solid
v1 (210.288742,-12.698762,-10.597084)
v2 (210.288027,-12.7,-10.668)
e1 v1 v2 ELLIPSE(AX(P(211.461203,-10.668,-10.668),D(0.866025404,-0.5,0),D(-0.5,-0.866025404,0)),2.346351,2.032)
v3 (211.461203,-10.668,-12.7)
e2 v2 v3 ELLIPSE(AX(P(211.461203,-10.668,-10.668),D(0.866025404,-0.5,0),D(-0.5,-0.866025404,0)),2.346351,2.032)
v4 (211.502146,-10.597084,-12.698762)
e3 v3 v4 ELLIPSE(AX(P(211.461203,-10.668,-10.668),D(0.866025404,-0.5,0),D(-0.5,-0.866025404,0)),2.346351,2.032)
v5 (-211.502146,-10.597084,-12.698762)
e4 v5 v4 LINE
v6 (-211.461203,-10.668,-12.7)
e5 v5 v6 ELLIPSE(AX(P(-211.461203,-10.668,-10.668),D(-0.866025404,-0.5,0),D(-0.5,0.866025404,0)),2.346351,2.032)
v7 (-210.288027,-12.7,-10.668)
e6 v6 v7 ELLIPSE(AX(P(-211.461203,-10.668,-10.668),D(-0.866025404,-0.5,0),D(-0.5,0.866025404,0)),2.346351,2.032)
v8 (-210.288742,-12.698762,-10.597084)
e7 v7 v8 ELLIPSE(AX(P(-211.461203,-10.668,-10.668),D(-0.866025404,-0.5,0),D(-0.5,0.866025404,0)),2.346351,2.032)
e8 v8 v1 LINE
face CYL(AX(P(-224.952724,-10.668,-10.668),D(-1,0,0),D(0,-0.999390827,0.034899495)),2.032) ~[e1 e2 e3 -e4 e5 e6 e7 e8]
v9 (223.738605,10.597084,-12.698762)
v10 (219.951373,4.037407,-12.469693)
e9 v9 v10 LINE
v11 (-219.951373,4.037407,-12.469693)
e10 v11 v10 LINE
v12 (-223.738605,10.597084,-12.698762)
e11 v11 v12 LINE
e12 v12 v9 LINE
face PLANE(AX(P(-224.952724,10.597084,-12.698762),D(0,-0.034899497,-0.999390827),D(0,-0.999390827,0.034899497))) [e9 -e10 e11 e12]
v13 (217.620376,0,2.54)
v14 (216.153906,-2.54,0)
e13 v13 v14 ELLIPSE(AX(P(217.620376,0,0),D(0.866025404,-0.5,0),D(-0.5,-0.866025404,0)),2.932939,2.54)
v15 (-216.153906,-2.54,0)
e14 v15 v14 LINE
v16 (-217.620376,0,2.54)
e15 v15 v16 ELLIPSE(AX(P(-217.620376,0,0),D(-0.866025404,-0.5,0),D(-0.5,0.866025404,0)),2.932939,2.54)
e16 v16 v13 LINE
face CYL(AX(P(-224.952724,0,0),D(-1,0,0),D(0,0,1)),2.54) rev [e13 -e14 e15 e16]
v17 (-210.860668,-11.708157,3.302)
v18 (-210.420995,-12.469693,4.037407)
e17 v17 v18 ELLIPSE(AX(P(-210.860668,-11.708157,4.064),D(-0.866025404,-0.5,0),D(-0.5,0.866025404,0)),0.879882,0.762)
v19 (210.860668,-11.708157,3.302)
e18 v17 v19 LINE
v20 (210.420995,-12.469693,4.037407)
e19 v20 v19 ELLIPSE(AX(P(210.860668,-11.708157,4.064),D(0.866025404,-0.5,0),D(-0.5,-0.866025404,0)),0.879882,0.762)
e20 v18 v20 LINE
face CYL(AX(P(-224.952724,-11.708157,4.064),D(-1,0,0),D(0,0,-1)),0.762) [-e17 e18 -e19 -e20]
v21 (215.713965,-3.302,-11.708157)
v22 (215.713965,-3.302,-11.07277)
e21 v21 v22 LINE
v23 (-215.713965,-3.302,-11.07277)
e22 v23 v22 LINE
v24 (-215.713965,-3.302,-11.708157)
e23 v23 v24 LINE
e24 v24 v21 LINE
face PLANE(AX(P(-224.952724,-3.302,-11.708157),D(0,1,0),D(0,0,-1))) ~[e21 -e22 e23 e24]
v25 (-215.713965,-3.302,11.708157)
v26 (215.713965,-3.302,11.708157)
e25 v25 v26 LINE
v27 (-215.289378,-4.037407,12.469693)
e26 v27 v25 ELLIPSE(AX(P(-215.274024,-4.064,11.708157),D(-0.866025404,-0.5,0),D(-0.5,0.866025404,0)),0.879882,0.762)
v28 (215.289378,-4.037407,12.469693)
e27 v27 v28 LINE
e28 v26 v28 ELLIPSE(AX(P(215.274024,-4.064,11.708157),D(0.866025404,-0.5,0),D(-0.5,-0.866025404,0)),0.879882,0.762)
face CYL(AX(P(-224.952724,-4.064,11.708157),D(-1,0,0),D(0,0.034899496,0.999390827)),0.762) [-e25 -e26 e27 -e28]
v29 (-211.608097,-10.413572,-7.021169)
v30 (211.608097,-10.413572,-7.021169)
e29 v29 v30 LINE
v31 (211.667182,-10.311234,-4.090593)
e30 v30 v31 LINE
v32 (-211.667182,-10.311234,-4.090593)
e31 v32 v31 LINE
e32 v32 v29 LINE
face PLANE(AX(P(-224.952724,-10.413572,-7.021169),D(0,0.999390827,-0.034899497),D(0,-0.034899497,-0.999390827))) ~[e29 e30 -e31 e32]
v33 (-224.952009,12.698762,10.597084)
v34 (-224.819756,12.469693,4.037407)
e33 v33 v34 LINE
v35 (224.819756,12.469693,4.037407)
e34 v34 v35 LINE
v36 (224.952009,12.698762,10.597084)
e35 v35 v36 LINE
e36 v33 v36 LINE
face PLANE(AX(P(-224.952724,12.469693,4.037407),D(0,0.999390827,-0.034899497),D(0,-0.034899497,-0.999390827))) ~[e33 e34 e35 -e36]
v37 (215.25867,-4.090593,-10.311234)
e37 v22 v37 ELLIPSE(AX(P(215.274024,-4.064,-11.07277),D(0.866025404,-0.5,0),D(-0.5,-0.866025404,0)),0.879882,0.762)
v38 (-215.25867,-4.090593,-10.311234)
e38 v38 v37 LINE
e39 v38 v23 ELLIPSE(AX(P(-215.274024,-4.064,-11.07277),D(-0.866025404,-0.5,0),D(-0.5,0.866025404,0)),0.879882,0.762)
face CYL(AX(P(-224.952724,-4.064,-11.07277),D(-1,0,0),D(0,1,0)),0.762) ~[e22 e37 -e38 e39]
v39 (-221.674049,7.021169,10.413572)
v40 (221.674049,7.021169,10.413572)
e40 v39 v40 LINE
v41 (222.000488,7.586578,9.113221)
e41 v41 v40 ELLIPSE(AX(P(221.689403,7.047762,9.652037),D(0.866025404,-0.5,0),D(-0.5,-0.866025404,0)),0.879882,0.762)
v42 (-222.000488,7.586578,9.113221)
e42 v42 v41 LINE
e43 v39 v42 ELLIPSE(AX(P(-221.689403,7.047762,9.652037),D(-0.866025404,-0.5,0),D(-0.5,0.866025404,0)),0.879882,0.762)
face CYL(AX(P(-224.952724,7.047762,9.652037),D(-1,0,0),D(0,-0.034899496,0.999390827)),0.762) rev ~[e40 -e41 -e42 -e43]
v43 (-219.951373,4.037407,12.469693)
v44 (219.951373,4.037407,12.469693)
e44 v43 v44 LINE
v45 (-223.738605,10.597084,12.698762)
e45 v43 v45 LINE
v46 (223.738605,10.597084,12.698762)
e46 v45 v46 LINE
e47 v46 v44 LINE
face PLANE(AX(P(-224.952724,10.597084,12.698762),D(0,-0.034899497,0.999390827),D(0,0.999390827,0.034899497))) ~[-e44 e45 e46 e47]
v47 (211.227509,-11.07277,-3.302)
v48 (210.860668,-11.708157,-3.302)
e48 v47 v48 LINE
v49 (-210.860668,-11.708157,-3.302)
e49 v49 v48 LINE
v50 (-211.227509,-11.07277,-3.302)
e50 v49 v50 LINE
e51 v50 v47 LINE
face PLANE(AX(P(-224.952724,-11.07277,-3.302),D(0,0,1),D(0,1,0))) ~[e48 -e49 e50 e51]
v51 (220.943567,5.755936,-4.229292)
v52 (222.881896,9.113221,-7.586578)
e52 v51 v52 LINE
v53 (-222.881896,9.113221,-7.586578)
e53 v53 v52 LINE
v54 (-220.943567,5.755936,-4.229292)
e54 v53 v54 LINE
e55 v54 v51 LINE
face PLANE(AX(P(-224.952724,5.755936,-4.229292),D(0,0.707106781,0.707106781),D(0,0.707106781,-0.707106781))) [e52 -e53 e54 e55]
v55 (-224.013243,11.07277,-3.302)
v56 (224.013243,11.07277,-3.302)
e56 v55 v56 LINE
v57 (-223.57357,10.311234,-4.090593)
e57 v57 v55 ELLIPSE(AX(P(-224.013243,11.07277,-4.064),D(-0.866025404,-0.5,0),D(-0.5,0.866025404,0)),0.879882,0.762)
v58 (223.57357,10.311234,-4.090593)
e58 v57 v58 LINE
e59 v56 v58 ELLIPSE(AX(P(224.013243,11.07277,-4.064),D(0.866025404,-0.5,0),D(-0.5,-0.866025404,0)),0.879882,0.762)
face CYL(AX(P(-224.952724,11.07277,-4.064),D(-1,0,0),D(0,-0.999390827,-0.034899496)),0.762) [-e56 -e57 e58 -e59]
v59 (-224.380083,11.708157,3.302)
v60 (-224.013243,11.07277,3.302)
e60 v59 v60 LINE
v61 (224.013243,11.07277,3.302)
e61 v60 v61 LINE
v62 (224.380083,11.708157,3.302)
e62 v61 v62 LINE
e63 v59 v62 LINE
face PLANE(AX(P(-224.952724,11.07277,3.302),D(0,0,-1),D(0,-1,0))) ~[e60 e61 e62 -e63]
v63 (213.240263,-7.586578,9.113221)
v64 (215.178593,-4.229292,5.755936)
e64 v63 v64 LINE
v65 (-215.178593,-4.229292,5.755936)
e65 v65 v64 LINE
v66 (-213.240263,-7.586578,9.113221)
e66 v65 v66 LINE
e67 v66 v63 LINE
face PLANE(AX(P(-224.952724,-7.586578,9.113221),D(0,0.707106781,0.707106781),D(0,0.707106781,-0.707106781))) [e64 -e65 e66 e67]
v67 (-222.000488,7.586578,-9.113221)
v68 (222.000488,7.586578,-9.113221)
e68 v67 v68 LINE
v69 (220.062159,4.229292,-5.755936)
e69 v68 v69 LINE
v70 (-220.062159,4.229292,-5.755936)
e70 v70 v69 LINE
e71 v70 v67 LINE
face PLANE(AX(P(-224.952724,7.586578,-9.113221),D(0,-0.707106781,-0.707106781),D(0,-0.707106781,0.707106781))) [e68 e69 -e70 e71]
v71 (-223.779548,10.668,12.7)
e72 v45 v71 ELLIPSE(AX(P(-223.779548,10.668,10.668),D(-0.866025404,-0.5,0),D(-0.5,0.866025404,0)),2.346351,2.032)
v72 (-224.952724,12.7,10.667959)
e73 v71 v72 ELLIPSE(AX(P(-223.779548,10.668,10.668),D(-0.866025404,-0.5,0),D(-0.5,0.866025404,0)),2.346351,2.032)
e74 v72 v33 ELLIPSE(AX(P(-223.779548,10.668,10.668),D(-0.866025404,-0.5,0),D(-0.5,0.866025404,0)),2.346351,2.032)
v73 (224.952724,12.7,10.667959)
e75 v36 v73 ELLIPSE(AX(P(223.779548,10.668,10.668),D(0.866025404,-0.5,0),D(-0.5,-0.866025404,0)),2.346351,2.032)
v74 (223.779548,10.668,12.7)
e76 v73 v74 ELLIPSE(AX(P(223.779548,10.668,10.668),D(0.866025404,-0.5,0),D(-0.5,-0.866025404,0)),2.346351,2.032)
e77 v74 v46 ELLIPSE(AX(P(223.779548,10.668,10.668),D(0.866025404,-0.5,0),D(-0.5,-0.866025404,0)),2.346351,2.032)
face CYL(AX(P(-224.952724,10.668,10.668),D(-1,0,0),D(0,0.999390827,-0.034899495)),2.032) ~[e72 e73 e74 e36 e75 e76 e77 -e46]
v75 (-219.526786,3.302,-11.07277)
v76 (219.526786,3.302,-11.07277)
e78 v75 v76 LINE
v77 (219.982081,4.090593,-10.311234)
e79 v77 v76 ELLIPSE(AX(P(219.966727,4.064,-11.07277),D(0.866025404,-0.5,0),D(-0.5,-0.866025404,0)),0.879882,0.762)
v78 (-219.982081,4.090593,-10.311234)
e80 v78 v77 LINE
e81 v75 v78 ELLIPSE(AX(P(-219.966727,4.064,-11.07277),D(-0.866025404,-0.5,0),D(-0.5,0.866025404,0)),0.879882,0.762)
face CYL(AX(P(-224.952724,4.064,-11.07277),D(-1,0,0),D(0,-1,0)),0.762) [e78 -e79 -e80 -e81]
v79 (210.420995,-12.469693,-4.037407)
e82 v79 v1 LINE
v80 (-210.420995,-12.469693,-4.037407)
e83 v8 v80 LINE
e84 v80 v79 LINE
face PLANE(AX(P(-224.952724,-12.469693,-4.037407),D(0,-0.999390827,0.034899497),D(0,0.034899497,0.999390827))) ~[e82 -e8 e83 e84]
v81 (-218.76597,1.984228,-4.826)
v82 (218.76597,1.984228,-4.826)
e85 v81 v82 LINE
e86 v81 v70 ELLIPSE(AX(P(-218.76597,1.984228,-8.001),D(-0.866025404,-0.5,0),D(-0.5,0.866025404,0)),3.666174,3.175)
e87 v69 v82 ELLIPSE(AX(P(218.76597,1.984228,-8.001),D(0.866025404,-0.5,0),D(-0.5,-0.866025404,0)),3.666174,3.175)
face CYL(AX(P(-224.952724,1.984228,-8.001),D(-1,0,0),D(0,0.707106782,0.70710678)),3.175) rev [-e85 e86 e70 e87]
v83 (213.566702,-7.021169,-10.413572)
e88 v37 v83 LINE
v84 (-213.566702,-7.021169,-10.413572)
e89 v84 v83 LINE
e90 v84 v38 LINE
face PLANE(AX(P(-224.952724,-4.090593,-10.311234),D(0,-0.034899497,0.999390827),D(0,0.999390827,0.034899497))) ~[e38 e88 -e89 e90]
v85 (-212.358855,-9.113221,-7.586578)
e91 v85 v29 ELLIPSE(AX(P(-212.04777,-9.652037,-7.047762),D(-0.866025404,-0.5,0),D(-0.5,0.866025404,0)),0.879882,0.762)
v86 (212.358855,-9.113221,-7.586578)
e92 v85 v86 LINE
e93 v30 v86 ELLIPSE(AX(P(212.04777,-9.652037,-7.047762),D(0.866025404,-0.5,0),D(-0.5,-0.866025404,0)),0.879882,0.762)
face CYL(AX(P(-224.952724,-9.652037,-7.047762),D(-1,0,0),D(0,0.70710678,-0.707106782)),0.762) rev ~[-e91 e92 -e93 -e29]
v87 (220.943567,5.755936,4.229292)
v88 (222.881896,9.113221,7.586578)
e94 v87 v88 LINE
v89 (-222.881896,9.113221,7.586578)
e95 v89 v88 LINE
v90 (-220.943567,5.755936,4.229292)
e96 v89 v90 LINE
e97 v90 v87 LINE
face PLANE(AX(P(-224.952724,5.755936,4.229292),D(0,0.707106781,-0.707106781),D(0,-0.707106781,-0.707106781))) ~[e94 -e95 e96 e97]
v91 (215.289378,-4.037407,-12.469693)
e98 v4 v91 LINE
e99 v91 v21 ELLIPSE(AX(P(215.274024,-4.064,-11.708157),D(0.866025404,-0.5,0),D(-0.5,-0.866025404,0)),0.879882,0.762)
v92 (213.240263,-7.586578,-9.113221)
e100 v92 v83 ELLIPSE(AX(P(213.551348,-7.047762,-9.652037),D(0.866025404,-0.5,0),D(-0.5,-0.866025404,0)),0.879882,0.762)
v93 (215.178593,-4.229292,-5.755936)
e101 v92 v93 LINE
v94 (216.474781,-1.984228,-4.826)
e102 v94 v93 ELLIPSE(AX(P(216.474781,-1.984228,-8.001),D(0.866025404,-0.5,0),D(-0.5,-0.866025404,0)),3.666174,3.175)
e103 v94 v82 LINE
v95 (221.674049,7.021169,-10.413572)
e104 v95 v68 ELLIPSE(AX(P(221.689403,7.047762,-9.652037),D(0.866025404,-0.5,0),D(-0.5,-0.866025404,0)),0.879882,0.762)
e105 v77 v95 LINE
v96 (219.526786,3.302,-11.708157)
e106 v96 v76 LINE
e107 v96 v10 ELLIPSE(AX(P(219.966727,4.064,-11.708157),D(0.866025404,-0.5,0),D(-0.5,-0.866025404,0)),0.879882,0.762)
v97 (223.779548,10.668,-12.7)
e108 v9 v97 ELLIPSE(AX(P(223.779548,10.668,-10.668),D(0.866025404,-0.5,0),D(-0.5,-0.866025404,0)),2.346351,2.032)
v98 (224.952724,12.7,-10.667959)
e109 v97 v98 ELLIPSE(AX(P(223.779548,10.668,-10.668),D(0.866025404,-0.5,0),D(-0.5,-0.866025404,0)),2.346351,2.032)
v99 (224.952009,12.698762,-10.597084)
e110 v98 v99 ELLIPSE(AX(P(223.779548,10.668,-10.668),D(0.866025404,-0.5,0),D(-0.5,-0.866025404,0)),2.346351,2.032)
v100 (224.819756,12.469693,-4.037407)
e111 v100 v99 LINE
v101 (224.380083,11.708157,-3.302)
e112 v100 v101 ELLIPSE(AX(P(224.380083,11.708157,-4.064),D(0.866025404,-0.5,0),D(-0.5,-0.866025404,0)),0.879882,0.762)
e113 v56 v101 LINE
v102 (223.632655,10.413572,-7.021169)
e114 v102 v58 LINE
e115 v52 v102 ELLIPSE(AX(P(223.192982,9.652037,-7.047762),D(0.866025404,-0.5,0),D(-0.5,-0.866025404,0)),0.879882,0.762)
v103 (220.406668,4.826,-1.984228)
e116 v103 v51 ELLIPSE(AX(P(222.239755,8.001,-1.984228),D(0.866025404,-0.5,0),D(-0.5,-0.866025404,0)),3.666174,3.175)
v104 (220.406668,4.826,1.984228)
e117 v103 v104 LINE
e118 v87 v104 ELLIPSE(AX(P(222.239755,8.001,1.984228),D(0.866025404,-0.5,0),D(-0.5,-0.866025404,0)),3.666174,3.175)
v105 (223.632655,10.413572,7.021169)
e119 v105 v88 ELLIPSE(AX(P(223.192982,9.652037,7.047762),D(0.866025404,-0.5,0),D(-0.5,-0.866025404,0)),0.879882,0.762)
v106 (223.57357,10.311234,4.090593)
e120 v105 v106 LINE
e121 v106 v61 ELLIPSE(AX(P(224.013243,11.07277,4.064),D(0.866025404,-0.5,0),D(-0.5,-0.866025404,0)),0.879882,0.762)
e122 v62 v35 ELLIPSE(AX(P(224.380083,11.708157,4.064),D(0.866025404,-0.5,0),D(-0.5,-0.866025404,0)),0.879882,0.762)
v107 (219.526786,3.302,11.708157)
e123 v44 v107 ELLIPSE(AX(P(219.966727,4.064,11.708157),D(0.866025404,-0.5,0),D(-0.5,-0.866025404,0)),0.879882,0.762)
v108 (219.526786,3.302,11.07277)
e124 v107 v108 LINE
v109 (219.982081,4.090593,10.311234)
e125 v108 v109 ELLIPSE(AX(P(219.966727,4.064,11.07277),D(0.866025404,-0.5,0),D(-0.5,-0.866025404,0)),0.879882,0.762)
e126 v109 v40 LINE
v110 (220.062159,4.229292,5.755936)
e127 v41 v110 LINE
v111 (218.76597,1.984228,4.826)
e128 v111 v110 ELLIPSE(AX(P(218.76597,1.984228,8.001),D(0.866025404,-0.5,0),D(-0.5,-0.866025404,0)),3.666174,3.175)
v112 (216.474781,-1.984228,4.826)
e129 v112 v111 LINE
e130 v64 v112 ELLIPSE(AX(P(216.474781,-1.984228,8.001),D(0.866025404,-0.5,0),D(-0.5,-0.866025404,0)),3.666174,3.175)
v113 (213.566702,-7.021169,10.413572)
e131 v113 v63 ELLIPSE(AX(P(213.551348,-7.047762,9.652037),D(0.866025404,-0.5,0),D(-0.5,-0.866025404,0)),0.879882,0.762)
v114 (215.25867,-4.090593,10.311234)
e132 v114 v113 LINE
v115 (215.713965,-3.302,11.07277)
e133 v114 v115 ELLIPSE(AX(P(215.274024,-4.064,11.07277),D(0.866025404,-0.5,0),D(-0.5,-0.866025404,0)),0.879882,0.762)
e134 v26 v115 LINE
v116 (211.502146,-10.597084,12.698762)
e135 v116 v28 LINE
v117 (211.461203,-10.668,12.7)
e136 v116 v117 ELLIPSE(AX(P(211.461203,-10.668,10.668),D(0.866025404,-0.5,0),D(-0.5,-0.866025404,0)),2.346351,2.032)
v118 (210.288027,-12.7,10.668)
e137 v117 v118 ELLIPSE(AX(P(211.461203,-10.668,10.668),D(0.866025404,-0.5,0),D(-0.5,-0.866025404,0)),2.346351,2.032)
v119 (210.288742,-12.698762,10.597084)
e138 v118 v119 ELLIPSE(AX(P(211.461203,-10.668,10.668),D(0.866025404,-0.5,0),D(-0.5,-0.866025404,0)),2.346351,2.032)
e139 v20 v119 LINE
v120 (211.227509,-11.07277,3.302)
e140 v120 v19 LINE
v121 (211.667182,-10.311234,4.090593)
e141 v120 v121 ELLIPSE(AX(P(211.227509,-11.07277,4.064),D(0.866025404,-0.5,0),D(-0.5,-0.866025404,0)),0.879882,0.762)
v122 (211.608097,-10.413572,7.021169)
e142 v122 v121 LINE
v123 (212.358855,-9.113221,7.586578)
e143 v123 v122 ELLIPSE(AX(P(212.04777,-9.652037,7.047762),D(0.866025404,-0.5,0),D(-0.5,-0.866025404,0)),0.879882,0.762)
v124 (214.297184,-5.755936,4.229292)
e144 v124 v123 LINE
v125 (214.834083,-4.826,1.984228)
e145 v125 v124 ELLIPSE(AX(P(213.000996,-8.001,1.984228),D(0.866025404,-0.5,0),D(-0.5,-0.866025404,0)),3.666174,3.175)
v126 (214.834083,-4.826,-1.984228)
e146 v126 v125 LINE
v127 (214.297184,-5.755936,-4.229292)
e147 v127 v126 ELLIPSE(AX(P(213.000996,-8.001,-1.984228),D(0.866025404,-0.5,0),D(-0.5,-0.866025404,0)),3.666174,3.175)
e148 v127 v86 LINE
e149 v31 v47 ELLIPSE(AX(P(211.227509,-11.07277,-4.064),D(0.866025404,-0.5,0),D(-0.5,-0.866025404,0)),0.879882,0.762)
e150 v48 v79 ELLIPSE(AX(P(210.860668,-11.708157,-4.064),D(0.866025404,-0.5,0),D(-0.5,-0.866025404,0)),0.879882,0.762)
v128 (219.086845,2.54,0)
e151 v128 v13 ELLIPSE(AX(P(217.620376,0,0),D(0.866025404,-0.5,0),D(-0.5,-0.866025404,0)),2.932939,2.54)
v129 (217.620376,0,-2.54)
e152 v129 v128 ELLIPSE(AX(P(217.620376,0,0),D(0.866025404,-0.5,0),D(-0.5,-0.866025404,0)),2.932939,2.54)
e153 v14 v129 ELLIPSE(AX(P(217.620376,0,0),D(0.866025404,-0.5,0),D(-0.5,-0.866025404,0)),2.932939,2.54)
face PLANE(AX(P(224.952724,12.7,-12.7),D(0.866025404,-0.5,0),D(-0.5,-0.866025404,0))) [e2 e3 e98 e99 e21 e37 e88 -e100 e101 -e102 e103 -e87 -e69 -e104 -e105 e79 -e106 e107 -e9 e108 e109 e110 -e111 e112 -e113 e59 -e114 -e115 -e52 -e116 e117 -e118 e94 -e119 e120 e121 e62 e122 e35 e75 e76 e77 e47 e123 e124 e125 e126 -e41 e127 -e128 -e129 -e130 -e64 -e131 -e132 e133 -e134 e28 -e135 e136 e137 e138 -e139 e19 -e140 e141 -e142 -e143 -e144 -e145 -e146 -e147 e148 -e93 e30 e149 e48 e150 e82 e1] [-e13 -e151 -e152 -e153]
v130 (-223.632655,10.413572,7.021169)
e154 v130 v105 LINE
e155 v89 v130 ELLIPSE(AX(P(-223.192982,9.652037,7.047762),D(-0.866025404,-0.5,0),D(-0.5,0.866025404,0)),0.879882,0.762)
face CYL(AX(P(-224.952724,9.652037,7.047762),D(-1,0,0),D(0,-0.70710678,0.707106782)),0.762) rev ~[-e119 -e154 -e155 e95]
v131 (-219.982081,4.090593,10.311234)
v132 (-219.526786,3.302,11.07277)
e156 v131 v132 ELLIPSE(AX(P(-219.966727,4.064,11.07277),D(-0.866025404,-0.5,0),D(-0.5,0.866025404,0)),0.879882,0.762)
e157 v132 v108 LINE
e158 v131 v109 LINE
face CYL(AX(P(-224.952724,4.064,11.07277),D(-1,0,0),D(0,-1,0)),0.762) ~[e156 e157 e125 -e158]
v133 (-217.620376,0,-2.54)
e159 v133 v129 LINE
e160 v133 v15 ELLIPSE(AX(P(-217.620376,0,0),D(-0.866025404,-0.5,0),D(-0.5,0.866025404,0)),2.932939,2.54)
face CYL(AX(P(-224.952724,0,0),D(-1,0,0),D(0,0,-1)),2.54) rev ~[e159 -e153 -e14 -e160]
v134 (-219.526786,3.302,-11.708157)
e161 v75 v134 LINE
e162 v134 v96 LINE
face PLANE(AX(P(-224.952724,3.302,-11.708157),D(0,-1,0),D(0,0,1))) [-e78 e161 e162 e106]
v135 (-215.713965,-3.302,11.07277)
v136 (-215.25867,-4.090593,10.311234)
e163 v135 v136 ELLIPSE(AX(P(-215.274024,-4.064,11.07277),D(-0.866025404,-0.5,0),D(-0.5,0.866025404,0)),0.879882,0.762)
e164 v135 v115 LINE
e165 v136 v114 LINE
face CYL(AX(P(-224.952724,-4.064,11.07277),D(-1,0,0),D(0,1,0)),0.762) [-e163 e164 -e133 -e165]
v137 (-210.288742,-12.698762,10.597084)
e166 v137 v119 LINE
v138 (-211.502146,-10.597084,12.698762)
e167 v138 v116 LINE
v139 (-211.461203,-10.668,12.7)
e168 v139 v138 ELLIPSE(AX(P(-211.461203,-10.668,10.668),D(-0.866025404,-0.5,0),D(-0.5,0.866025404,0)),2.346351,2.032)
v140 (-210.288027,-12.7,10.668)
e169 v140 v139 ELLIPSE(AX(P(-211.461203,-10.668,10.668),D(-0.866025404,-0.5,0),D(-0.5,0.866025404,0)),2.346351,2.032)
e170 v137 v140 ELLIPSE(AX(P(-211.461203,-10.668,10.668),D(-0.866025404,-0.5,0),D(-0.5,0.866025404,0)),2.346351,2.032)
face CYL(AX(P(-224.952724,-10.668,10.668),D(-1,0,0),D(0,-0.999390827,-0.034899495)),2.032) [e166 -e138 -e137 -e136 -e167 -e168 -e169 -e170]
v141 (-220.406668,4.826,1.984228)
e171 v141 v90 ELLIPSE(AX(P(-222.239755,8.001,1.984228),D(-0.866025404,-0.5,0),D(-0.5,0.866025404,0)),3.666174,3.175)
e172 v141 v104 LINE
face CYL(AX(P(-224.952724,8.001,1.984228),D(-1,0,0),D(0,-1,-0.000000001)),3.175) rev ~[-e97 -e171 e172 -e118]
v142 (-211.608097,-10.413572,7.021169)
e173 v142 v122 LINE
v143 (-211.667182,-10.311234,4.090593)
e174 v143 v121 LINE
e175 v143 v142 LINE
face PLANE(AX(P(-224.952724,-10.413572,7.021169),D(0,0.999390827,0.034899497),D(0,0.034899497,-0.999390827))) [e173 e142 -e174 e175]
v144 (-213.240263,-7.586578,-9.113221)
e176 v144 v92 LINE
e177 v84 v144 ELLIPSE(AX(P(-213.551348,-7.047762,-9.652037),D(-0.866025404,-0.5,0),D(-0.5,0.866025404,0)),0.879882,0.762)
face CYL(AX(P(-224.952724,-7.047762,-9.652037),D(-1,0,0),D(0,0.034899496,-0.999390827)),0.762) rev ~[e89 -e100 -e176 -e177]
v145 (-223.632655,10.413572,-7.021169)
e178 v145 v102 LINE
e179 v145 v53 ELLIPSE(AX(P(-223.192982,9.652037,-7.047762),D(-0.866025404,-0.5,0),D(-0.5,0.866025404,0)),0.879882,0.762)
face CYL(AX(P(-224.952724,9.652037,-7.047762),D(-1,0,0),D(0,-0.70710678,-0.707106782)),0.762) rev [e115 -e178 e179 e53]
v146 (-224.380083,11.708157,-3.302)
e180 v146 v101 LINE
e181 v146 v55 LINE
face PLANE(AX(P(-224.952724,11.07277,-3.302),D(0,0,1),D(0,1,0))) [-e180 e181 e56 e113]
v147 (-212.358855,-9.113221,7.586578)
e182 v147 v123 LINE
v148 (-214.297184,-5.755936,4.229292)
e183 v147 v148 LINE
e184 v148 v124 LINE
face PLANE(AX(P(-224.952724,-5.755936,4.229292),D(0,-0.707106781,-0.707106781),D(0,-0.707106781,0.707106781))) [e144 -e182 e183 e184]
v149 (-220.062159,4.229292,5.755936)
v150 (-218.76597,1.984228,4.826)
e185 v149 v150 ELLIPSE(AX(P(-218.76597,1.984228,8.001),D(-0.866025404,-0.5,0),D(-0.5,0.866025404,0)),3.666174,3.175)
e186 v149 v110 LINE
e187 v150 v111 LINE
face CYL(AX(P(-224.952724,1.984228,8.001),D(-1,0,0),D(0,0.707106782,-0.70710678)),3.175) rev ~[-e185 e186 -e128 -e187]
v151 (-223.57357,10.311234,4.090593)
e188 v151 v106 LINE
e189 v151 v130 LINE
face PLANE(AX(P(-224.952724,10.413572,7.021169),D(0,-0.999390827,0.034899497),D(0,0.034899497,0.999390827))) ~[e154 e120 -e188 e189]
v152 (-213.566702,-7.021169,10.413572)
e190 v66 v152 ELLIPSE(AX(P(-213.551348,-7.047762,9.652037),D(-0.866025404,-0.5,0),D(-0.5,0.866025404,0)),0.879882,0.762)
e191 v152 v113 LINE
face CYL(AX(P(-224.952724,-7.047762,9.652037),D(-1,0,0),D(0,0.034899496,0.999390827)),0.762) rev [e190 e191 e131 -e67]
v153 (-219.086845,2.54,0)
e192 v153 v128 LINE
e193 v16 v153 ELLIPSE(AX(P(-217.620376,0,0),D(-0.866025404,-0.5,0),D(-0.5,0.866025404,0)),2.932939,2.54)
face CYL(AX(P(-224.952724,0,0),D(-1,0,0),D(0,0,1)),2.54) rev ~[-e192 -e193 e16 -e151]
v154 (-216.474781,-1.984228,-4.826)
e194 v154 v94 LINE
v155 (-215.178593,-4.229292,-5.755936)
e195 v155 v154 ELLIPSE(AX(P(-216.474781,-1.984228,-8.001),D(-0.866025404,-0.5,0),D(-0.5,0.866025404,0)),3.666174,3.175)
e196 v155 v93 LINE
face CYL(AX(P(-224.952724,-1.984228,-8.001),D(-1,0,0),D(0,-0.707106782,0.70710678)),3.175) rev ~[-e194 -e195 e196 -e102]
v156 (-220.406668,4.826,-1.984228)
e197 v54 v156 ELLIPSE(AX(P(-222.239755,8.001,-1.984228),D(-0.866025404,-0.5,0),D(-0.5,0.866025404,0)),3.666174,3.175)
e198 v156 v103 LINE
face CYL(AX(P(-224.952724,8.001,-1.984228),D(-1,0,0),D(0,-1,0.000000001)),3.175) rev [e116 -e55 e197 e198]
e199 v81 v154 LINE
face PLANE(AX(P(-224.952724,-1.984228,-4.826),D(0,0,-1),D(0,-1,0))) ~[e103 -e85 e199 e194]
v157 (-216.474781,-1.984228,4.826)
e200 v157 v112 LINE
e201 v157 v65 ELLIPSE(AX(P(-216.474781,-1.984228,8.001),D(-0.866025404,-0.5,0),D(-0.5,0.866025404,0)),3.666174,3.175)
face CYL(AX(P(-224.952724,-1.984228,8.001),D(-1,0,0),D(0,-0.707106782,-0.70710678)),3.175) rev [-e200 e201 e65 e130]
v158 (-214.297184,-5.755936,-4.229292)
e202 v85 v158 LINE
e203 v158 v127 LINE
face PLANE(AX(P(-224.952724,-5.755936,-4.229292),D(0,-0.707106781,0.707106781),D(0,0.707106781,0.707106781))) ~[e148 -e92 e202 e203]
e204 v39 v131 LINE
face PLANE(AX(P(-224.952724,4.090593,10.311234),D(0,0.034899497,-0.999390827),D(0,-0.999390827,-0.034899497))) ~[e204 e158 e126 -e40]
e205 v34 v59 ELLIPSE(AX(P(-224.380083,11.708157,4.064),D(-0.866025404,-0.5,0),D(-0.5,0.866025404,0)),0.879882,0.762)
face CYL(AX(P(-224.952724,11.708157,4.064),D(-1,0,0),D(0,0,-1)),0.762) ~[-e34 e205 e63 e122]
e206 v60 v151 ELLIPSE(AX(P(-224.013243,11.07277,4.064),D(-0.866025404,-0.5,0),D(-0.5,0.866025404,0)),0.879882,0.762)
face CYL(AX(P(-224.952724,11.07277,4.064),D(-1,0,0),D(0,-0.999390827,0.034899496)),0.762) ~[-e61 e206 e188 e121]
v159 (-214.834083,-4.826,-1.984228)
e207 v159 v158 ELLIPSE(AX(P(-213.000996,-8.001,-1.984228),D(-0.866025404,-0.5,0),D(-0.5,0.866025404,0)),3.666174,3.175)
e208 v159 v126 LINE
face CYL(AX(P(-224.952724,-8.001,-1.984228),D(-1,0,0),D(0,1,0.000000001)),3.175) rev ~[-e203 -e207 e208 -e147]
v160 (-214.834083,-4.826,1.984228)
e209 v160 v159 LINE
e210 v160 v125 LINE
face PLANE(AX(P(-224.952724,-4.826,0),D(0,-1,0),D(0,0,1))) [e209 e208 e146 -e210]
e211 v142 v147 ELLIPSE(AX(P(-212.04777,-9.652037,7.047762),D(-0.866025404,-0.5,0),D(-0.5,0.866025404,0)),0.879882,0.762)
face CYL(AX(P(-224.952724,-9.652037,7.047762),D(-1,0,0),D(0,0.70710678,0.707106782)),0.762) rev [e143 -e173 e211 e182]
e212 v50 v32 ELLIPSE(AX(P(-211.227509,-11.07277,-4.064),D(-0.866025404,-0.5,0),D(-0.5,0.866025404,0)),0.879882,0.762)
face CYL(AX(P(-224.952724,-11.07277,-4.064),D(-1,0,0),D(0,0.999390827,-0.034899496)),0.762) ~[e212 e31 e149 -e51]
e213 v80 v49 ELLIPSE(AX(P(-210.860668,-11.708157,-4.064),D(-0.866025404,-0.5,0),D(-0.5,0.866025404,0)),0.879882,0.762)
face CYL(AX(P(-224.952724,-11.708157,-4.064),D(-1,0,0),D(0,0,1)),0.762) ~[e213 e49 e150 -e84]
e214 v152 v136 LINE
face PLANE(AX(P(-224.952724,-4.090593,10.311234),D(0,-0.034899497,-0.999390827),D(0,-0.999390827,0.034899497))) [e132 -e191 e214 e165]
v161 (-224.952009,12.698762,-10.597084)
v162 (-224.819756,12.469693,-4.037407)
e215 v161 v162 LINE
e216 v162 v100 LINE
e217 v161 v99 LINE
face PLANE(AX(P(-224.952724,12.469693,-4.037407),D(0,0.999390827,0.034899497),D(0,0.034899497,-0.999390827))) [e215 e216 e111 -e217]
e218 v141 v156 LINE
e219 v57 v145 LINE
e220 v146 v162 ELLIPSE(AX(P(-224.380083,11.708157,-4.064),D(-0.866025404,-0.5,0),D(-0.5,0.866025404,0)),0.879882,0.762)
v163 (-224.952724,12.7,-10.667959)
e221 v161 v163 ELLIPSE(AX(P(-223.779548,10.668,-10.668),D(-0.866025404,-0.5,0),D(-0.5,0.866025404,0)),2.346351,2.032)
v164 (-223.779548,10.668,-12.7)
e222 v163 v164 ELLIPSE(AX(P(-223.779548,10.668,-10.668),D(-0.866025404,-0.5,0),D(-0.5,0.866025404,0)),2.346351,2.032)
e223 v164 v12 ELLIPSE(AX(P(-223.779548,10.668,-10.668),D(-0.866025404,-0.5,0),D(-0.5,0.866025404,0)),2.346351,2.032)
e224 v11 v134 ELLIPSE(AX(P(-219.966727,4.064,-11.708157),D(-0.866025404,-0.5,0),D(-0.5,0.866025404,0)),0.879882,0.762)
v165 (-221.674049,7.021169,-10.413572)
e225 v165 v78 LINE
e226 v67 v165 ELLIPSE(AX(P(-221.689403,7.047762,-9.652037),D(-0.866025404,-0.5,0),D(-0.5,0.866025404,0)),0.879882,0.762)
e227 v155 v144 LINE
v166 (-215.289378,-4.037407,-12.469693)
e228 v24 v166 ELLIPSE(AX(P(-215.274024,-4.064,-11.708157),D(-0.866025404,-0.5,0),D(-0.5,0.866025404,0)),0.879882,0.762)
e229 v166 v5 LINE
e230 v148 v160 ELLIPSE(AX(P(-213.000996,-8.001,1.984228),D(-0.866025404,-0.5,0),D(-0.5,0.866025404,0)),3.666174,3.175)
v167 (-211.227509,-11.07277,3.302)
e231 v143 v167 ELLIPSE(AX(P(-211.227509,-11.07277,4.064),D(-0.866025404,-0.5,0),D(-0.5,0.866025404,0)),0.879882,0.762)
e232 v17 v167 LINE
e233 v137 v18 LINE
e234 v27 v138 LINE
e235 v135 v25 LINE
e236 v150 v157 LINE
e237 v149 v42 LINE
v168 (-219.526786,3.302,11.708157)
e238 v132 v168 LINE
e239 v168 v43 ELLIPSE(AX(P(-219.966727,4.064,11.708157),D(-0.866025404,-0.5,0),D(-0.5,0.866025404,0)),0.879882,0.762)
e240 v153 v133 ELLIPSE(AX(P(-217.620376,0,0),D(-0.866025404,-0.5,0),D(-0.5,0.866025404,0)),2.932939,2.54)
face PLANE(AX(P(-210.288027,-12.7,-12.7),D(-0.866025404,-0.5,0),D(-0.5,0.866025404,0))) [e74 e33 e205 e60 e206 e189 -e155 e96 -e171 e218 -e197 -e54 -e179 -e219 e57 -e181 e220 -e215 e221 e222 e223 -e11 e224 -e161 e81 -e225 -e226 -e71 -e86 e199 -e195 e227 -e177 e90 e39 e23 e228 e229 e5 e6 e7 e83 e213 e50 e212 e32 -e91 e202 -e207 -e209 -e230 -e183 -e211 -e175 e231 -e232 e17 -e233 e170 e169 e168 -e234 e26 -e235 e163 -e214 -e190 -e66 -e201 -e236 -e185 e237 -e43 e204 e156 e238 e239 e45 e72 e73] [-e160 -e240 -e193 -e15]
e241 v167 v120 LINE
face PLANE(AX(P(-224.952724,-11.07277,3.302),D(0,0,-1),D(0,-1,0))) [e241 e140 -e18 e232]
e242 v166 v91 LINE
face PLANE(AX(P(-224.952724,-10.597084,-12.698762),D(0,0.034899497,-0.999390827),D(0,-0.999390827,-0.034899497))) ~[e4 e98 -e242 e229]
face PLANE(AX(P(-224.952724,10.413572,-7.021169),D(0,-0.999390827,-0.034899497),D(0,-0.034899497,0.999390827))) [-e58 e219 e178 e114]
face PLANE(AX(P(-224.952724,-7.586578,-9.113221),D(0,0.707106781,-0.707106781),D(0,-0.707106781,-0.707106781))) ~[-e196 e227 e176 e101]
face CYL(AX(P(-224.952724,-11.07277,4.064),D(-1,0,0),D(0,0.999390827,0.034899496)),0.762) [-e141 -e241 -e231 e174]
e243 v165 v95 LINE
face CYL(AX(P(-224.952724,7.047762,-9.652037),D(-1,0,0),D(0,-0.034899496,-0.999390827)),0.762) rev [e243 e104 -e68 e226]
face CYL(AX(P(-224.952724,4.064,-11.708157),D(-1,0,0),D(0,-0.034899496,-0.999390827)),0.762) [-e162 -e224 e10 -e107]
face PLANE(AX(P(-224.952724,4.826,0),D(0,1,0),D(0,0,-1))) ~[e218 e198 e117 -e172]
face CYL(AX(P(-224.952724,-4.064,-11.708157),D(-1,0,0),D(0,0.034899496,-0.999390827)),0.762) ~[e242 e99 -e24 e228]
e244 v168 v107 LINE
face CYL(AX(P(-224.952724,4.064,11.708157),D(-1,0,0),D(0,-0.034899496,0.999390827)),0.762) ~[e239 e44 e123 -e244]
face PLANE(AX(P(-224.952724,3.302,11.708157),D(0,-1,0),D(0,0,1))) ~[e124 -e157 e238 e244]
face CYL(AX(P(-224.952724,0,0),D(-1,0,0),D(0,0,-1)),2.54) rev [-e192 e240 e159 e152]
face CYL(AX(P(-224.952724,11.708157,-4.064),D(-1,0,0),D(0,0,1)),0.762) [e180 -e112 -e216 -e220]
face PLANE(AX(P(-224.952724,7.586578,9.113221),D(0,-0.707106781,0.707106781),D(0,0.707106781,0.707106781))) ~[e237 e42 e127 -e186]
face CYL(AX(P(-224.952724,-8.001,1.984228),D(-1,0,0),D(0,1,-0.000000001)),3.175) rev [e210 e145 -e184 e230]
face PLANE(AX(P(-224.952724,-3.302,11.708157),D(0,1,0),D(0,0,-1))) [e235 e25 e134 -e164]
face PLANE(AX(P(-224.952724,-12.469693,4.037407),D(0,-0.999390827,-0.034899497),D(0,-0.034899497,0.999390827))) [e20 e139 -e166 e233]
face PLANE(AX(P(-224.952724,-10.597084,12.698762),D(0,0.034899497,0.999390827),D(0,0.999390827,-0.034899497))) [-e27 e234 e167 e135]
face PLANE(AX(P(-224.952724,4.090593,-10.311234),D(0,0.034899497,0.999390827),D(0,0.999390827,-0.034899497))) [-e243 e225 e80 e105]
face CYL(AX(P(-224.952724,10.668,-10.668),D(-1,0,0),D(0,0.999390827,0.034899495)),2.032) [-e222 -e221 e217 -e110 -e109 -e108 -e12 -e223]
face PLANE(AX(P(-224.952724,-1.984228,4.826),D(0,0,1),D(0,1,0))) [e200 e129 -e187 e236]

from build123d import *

# Parameters (mm, degrees)
BOSS_EXTRUDE1_DEPTH      = 224.952724
BOSS_EXTRUDE1_DEPTH_BACK = 224.952724
CUT_EXTRUDE1_DEPTH       = 12.7
CUT_EXTRUDE1_DEPTH_BACK  = 12.7


with BuildPart() as part:
    # Sketch3 → Boss-Extrude1 (new, two sides: drawn at the far end of the back side and taken through both)
    with BuildSketch(Plane(origin=(0, 0, 0), x_dir=(0, 0, -1), z_dir=(1, 0, 0)).offset(-BOSS_EXTRUDE1_DEPTH_BACK)):
        with BuildLine():
            Line((0, 4.826), (1.984228399, 4.826))
            ThreePointArc((1.984228399, 4.826), (3.199248297, 5.067682484), (4.229292429, 5.75593597))
            Line((4.229292429, 5.75593597), (7.586577723, 9.113221264))
            ThreePointArc((7.586577723, 9.113221264), (7.746562132, 9.955883421), (7.021168939, 10.413572441))
            Line((7.021168939, 10.413572441), (4.090593416, 10.311234489))
            ThreePointArc((4.090593416, 10.311234489), (3.534670322, 10.524633371), (3.302, 11.072770299))
            Line((3.302, 11.072770299), (3.302, 11.70815736))
            ThreePointArc((3.302, 11.70815736), (3.515863072, 12.237487038), (4.037406584, 12.46969317))
            Line((4.037406584, 12.46969317), (10.597084223, 12.698762161))
            ThreePointArc((10.597084223, 12.698762161), (12.104840979, 12.104840979), (12.698762161, 10.597084223))
            Line((12.698762161, 10.597084223), (12.46969317, 4.037406584))
            ThreePointArc((12.46969317, 4.037406584), (12.237487038, 3.515863072), (11.70815736, 3.302))
            Line((11.70815736, 3.302), (11.072770299, 3.302))
            ThreePointArc((11.072770299, 3.302), (10.524633371, 3.534670322), (10.311234489, 4.090593416))
            Line((10.311234489, 4.090593416), (10.413572441, 7.021168939))
            ThreePointArc((10.413572441, 7.021168939), (9.955883421, 7.746562132), (9.113221264, 7.586577723))
            Line((9.113221264, 7.586577723), (5.75593597, 4.229292429))
            ThreePointArc((5.75593597, 4.229292429), (5.067682484, 3.199248297), (4.826, 1.984228399))
            Line((4.826, 1.984228399), (4.826, 0))
            Line((4.826, 0), (2.54, 0))
            ThreePointArc((2.54, 0), (1.796051224, 1.796051224), (0, 2.54))
            Line((0, 2.54), (0, 4.826))
        make_face()
    extrude(amount=BOSS_EXTRUDE1_DEPTH + BOSS_EXTRUDE1_DEPTH_BACK)

    # Mirror1: part across plane


with BuildPart() as part_1:
    add(part.part)
    add(part.part.mirror(Plane.ZX))

    # Mirror2: part across plane


with BuildPart() as part_2:
    add(part_1.part)
    add(part_1.part.mirror(Plane.XY))

    # Sketch4 → Cut-Extrude1 (cut, two sides: drawn at the far end of the back side and taken through both)
    with BuildSketch(Plane.XY.offset(-CUT_EXTRUDE1_DEPTH_BACK)):
        Polygon((-227.492724098, -38.1), (227.492724098, -38.1), (227.492724098, 12.7), (224.952724098, 12.7), (210.288027261, -12.7), (-210.288027261, -12.7), (-224.952724098, 12.7), (-227.492724098, 12.7), align=None)
    extrude(amount=CUT_EXTRUDE1_DEPTH + CUT_EXTRUDE1_DEPTH_BACK, mode=Mode.SUBTRACT)


solid = part_2.part
